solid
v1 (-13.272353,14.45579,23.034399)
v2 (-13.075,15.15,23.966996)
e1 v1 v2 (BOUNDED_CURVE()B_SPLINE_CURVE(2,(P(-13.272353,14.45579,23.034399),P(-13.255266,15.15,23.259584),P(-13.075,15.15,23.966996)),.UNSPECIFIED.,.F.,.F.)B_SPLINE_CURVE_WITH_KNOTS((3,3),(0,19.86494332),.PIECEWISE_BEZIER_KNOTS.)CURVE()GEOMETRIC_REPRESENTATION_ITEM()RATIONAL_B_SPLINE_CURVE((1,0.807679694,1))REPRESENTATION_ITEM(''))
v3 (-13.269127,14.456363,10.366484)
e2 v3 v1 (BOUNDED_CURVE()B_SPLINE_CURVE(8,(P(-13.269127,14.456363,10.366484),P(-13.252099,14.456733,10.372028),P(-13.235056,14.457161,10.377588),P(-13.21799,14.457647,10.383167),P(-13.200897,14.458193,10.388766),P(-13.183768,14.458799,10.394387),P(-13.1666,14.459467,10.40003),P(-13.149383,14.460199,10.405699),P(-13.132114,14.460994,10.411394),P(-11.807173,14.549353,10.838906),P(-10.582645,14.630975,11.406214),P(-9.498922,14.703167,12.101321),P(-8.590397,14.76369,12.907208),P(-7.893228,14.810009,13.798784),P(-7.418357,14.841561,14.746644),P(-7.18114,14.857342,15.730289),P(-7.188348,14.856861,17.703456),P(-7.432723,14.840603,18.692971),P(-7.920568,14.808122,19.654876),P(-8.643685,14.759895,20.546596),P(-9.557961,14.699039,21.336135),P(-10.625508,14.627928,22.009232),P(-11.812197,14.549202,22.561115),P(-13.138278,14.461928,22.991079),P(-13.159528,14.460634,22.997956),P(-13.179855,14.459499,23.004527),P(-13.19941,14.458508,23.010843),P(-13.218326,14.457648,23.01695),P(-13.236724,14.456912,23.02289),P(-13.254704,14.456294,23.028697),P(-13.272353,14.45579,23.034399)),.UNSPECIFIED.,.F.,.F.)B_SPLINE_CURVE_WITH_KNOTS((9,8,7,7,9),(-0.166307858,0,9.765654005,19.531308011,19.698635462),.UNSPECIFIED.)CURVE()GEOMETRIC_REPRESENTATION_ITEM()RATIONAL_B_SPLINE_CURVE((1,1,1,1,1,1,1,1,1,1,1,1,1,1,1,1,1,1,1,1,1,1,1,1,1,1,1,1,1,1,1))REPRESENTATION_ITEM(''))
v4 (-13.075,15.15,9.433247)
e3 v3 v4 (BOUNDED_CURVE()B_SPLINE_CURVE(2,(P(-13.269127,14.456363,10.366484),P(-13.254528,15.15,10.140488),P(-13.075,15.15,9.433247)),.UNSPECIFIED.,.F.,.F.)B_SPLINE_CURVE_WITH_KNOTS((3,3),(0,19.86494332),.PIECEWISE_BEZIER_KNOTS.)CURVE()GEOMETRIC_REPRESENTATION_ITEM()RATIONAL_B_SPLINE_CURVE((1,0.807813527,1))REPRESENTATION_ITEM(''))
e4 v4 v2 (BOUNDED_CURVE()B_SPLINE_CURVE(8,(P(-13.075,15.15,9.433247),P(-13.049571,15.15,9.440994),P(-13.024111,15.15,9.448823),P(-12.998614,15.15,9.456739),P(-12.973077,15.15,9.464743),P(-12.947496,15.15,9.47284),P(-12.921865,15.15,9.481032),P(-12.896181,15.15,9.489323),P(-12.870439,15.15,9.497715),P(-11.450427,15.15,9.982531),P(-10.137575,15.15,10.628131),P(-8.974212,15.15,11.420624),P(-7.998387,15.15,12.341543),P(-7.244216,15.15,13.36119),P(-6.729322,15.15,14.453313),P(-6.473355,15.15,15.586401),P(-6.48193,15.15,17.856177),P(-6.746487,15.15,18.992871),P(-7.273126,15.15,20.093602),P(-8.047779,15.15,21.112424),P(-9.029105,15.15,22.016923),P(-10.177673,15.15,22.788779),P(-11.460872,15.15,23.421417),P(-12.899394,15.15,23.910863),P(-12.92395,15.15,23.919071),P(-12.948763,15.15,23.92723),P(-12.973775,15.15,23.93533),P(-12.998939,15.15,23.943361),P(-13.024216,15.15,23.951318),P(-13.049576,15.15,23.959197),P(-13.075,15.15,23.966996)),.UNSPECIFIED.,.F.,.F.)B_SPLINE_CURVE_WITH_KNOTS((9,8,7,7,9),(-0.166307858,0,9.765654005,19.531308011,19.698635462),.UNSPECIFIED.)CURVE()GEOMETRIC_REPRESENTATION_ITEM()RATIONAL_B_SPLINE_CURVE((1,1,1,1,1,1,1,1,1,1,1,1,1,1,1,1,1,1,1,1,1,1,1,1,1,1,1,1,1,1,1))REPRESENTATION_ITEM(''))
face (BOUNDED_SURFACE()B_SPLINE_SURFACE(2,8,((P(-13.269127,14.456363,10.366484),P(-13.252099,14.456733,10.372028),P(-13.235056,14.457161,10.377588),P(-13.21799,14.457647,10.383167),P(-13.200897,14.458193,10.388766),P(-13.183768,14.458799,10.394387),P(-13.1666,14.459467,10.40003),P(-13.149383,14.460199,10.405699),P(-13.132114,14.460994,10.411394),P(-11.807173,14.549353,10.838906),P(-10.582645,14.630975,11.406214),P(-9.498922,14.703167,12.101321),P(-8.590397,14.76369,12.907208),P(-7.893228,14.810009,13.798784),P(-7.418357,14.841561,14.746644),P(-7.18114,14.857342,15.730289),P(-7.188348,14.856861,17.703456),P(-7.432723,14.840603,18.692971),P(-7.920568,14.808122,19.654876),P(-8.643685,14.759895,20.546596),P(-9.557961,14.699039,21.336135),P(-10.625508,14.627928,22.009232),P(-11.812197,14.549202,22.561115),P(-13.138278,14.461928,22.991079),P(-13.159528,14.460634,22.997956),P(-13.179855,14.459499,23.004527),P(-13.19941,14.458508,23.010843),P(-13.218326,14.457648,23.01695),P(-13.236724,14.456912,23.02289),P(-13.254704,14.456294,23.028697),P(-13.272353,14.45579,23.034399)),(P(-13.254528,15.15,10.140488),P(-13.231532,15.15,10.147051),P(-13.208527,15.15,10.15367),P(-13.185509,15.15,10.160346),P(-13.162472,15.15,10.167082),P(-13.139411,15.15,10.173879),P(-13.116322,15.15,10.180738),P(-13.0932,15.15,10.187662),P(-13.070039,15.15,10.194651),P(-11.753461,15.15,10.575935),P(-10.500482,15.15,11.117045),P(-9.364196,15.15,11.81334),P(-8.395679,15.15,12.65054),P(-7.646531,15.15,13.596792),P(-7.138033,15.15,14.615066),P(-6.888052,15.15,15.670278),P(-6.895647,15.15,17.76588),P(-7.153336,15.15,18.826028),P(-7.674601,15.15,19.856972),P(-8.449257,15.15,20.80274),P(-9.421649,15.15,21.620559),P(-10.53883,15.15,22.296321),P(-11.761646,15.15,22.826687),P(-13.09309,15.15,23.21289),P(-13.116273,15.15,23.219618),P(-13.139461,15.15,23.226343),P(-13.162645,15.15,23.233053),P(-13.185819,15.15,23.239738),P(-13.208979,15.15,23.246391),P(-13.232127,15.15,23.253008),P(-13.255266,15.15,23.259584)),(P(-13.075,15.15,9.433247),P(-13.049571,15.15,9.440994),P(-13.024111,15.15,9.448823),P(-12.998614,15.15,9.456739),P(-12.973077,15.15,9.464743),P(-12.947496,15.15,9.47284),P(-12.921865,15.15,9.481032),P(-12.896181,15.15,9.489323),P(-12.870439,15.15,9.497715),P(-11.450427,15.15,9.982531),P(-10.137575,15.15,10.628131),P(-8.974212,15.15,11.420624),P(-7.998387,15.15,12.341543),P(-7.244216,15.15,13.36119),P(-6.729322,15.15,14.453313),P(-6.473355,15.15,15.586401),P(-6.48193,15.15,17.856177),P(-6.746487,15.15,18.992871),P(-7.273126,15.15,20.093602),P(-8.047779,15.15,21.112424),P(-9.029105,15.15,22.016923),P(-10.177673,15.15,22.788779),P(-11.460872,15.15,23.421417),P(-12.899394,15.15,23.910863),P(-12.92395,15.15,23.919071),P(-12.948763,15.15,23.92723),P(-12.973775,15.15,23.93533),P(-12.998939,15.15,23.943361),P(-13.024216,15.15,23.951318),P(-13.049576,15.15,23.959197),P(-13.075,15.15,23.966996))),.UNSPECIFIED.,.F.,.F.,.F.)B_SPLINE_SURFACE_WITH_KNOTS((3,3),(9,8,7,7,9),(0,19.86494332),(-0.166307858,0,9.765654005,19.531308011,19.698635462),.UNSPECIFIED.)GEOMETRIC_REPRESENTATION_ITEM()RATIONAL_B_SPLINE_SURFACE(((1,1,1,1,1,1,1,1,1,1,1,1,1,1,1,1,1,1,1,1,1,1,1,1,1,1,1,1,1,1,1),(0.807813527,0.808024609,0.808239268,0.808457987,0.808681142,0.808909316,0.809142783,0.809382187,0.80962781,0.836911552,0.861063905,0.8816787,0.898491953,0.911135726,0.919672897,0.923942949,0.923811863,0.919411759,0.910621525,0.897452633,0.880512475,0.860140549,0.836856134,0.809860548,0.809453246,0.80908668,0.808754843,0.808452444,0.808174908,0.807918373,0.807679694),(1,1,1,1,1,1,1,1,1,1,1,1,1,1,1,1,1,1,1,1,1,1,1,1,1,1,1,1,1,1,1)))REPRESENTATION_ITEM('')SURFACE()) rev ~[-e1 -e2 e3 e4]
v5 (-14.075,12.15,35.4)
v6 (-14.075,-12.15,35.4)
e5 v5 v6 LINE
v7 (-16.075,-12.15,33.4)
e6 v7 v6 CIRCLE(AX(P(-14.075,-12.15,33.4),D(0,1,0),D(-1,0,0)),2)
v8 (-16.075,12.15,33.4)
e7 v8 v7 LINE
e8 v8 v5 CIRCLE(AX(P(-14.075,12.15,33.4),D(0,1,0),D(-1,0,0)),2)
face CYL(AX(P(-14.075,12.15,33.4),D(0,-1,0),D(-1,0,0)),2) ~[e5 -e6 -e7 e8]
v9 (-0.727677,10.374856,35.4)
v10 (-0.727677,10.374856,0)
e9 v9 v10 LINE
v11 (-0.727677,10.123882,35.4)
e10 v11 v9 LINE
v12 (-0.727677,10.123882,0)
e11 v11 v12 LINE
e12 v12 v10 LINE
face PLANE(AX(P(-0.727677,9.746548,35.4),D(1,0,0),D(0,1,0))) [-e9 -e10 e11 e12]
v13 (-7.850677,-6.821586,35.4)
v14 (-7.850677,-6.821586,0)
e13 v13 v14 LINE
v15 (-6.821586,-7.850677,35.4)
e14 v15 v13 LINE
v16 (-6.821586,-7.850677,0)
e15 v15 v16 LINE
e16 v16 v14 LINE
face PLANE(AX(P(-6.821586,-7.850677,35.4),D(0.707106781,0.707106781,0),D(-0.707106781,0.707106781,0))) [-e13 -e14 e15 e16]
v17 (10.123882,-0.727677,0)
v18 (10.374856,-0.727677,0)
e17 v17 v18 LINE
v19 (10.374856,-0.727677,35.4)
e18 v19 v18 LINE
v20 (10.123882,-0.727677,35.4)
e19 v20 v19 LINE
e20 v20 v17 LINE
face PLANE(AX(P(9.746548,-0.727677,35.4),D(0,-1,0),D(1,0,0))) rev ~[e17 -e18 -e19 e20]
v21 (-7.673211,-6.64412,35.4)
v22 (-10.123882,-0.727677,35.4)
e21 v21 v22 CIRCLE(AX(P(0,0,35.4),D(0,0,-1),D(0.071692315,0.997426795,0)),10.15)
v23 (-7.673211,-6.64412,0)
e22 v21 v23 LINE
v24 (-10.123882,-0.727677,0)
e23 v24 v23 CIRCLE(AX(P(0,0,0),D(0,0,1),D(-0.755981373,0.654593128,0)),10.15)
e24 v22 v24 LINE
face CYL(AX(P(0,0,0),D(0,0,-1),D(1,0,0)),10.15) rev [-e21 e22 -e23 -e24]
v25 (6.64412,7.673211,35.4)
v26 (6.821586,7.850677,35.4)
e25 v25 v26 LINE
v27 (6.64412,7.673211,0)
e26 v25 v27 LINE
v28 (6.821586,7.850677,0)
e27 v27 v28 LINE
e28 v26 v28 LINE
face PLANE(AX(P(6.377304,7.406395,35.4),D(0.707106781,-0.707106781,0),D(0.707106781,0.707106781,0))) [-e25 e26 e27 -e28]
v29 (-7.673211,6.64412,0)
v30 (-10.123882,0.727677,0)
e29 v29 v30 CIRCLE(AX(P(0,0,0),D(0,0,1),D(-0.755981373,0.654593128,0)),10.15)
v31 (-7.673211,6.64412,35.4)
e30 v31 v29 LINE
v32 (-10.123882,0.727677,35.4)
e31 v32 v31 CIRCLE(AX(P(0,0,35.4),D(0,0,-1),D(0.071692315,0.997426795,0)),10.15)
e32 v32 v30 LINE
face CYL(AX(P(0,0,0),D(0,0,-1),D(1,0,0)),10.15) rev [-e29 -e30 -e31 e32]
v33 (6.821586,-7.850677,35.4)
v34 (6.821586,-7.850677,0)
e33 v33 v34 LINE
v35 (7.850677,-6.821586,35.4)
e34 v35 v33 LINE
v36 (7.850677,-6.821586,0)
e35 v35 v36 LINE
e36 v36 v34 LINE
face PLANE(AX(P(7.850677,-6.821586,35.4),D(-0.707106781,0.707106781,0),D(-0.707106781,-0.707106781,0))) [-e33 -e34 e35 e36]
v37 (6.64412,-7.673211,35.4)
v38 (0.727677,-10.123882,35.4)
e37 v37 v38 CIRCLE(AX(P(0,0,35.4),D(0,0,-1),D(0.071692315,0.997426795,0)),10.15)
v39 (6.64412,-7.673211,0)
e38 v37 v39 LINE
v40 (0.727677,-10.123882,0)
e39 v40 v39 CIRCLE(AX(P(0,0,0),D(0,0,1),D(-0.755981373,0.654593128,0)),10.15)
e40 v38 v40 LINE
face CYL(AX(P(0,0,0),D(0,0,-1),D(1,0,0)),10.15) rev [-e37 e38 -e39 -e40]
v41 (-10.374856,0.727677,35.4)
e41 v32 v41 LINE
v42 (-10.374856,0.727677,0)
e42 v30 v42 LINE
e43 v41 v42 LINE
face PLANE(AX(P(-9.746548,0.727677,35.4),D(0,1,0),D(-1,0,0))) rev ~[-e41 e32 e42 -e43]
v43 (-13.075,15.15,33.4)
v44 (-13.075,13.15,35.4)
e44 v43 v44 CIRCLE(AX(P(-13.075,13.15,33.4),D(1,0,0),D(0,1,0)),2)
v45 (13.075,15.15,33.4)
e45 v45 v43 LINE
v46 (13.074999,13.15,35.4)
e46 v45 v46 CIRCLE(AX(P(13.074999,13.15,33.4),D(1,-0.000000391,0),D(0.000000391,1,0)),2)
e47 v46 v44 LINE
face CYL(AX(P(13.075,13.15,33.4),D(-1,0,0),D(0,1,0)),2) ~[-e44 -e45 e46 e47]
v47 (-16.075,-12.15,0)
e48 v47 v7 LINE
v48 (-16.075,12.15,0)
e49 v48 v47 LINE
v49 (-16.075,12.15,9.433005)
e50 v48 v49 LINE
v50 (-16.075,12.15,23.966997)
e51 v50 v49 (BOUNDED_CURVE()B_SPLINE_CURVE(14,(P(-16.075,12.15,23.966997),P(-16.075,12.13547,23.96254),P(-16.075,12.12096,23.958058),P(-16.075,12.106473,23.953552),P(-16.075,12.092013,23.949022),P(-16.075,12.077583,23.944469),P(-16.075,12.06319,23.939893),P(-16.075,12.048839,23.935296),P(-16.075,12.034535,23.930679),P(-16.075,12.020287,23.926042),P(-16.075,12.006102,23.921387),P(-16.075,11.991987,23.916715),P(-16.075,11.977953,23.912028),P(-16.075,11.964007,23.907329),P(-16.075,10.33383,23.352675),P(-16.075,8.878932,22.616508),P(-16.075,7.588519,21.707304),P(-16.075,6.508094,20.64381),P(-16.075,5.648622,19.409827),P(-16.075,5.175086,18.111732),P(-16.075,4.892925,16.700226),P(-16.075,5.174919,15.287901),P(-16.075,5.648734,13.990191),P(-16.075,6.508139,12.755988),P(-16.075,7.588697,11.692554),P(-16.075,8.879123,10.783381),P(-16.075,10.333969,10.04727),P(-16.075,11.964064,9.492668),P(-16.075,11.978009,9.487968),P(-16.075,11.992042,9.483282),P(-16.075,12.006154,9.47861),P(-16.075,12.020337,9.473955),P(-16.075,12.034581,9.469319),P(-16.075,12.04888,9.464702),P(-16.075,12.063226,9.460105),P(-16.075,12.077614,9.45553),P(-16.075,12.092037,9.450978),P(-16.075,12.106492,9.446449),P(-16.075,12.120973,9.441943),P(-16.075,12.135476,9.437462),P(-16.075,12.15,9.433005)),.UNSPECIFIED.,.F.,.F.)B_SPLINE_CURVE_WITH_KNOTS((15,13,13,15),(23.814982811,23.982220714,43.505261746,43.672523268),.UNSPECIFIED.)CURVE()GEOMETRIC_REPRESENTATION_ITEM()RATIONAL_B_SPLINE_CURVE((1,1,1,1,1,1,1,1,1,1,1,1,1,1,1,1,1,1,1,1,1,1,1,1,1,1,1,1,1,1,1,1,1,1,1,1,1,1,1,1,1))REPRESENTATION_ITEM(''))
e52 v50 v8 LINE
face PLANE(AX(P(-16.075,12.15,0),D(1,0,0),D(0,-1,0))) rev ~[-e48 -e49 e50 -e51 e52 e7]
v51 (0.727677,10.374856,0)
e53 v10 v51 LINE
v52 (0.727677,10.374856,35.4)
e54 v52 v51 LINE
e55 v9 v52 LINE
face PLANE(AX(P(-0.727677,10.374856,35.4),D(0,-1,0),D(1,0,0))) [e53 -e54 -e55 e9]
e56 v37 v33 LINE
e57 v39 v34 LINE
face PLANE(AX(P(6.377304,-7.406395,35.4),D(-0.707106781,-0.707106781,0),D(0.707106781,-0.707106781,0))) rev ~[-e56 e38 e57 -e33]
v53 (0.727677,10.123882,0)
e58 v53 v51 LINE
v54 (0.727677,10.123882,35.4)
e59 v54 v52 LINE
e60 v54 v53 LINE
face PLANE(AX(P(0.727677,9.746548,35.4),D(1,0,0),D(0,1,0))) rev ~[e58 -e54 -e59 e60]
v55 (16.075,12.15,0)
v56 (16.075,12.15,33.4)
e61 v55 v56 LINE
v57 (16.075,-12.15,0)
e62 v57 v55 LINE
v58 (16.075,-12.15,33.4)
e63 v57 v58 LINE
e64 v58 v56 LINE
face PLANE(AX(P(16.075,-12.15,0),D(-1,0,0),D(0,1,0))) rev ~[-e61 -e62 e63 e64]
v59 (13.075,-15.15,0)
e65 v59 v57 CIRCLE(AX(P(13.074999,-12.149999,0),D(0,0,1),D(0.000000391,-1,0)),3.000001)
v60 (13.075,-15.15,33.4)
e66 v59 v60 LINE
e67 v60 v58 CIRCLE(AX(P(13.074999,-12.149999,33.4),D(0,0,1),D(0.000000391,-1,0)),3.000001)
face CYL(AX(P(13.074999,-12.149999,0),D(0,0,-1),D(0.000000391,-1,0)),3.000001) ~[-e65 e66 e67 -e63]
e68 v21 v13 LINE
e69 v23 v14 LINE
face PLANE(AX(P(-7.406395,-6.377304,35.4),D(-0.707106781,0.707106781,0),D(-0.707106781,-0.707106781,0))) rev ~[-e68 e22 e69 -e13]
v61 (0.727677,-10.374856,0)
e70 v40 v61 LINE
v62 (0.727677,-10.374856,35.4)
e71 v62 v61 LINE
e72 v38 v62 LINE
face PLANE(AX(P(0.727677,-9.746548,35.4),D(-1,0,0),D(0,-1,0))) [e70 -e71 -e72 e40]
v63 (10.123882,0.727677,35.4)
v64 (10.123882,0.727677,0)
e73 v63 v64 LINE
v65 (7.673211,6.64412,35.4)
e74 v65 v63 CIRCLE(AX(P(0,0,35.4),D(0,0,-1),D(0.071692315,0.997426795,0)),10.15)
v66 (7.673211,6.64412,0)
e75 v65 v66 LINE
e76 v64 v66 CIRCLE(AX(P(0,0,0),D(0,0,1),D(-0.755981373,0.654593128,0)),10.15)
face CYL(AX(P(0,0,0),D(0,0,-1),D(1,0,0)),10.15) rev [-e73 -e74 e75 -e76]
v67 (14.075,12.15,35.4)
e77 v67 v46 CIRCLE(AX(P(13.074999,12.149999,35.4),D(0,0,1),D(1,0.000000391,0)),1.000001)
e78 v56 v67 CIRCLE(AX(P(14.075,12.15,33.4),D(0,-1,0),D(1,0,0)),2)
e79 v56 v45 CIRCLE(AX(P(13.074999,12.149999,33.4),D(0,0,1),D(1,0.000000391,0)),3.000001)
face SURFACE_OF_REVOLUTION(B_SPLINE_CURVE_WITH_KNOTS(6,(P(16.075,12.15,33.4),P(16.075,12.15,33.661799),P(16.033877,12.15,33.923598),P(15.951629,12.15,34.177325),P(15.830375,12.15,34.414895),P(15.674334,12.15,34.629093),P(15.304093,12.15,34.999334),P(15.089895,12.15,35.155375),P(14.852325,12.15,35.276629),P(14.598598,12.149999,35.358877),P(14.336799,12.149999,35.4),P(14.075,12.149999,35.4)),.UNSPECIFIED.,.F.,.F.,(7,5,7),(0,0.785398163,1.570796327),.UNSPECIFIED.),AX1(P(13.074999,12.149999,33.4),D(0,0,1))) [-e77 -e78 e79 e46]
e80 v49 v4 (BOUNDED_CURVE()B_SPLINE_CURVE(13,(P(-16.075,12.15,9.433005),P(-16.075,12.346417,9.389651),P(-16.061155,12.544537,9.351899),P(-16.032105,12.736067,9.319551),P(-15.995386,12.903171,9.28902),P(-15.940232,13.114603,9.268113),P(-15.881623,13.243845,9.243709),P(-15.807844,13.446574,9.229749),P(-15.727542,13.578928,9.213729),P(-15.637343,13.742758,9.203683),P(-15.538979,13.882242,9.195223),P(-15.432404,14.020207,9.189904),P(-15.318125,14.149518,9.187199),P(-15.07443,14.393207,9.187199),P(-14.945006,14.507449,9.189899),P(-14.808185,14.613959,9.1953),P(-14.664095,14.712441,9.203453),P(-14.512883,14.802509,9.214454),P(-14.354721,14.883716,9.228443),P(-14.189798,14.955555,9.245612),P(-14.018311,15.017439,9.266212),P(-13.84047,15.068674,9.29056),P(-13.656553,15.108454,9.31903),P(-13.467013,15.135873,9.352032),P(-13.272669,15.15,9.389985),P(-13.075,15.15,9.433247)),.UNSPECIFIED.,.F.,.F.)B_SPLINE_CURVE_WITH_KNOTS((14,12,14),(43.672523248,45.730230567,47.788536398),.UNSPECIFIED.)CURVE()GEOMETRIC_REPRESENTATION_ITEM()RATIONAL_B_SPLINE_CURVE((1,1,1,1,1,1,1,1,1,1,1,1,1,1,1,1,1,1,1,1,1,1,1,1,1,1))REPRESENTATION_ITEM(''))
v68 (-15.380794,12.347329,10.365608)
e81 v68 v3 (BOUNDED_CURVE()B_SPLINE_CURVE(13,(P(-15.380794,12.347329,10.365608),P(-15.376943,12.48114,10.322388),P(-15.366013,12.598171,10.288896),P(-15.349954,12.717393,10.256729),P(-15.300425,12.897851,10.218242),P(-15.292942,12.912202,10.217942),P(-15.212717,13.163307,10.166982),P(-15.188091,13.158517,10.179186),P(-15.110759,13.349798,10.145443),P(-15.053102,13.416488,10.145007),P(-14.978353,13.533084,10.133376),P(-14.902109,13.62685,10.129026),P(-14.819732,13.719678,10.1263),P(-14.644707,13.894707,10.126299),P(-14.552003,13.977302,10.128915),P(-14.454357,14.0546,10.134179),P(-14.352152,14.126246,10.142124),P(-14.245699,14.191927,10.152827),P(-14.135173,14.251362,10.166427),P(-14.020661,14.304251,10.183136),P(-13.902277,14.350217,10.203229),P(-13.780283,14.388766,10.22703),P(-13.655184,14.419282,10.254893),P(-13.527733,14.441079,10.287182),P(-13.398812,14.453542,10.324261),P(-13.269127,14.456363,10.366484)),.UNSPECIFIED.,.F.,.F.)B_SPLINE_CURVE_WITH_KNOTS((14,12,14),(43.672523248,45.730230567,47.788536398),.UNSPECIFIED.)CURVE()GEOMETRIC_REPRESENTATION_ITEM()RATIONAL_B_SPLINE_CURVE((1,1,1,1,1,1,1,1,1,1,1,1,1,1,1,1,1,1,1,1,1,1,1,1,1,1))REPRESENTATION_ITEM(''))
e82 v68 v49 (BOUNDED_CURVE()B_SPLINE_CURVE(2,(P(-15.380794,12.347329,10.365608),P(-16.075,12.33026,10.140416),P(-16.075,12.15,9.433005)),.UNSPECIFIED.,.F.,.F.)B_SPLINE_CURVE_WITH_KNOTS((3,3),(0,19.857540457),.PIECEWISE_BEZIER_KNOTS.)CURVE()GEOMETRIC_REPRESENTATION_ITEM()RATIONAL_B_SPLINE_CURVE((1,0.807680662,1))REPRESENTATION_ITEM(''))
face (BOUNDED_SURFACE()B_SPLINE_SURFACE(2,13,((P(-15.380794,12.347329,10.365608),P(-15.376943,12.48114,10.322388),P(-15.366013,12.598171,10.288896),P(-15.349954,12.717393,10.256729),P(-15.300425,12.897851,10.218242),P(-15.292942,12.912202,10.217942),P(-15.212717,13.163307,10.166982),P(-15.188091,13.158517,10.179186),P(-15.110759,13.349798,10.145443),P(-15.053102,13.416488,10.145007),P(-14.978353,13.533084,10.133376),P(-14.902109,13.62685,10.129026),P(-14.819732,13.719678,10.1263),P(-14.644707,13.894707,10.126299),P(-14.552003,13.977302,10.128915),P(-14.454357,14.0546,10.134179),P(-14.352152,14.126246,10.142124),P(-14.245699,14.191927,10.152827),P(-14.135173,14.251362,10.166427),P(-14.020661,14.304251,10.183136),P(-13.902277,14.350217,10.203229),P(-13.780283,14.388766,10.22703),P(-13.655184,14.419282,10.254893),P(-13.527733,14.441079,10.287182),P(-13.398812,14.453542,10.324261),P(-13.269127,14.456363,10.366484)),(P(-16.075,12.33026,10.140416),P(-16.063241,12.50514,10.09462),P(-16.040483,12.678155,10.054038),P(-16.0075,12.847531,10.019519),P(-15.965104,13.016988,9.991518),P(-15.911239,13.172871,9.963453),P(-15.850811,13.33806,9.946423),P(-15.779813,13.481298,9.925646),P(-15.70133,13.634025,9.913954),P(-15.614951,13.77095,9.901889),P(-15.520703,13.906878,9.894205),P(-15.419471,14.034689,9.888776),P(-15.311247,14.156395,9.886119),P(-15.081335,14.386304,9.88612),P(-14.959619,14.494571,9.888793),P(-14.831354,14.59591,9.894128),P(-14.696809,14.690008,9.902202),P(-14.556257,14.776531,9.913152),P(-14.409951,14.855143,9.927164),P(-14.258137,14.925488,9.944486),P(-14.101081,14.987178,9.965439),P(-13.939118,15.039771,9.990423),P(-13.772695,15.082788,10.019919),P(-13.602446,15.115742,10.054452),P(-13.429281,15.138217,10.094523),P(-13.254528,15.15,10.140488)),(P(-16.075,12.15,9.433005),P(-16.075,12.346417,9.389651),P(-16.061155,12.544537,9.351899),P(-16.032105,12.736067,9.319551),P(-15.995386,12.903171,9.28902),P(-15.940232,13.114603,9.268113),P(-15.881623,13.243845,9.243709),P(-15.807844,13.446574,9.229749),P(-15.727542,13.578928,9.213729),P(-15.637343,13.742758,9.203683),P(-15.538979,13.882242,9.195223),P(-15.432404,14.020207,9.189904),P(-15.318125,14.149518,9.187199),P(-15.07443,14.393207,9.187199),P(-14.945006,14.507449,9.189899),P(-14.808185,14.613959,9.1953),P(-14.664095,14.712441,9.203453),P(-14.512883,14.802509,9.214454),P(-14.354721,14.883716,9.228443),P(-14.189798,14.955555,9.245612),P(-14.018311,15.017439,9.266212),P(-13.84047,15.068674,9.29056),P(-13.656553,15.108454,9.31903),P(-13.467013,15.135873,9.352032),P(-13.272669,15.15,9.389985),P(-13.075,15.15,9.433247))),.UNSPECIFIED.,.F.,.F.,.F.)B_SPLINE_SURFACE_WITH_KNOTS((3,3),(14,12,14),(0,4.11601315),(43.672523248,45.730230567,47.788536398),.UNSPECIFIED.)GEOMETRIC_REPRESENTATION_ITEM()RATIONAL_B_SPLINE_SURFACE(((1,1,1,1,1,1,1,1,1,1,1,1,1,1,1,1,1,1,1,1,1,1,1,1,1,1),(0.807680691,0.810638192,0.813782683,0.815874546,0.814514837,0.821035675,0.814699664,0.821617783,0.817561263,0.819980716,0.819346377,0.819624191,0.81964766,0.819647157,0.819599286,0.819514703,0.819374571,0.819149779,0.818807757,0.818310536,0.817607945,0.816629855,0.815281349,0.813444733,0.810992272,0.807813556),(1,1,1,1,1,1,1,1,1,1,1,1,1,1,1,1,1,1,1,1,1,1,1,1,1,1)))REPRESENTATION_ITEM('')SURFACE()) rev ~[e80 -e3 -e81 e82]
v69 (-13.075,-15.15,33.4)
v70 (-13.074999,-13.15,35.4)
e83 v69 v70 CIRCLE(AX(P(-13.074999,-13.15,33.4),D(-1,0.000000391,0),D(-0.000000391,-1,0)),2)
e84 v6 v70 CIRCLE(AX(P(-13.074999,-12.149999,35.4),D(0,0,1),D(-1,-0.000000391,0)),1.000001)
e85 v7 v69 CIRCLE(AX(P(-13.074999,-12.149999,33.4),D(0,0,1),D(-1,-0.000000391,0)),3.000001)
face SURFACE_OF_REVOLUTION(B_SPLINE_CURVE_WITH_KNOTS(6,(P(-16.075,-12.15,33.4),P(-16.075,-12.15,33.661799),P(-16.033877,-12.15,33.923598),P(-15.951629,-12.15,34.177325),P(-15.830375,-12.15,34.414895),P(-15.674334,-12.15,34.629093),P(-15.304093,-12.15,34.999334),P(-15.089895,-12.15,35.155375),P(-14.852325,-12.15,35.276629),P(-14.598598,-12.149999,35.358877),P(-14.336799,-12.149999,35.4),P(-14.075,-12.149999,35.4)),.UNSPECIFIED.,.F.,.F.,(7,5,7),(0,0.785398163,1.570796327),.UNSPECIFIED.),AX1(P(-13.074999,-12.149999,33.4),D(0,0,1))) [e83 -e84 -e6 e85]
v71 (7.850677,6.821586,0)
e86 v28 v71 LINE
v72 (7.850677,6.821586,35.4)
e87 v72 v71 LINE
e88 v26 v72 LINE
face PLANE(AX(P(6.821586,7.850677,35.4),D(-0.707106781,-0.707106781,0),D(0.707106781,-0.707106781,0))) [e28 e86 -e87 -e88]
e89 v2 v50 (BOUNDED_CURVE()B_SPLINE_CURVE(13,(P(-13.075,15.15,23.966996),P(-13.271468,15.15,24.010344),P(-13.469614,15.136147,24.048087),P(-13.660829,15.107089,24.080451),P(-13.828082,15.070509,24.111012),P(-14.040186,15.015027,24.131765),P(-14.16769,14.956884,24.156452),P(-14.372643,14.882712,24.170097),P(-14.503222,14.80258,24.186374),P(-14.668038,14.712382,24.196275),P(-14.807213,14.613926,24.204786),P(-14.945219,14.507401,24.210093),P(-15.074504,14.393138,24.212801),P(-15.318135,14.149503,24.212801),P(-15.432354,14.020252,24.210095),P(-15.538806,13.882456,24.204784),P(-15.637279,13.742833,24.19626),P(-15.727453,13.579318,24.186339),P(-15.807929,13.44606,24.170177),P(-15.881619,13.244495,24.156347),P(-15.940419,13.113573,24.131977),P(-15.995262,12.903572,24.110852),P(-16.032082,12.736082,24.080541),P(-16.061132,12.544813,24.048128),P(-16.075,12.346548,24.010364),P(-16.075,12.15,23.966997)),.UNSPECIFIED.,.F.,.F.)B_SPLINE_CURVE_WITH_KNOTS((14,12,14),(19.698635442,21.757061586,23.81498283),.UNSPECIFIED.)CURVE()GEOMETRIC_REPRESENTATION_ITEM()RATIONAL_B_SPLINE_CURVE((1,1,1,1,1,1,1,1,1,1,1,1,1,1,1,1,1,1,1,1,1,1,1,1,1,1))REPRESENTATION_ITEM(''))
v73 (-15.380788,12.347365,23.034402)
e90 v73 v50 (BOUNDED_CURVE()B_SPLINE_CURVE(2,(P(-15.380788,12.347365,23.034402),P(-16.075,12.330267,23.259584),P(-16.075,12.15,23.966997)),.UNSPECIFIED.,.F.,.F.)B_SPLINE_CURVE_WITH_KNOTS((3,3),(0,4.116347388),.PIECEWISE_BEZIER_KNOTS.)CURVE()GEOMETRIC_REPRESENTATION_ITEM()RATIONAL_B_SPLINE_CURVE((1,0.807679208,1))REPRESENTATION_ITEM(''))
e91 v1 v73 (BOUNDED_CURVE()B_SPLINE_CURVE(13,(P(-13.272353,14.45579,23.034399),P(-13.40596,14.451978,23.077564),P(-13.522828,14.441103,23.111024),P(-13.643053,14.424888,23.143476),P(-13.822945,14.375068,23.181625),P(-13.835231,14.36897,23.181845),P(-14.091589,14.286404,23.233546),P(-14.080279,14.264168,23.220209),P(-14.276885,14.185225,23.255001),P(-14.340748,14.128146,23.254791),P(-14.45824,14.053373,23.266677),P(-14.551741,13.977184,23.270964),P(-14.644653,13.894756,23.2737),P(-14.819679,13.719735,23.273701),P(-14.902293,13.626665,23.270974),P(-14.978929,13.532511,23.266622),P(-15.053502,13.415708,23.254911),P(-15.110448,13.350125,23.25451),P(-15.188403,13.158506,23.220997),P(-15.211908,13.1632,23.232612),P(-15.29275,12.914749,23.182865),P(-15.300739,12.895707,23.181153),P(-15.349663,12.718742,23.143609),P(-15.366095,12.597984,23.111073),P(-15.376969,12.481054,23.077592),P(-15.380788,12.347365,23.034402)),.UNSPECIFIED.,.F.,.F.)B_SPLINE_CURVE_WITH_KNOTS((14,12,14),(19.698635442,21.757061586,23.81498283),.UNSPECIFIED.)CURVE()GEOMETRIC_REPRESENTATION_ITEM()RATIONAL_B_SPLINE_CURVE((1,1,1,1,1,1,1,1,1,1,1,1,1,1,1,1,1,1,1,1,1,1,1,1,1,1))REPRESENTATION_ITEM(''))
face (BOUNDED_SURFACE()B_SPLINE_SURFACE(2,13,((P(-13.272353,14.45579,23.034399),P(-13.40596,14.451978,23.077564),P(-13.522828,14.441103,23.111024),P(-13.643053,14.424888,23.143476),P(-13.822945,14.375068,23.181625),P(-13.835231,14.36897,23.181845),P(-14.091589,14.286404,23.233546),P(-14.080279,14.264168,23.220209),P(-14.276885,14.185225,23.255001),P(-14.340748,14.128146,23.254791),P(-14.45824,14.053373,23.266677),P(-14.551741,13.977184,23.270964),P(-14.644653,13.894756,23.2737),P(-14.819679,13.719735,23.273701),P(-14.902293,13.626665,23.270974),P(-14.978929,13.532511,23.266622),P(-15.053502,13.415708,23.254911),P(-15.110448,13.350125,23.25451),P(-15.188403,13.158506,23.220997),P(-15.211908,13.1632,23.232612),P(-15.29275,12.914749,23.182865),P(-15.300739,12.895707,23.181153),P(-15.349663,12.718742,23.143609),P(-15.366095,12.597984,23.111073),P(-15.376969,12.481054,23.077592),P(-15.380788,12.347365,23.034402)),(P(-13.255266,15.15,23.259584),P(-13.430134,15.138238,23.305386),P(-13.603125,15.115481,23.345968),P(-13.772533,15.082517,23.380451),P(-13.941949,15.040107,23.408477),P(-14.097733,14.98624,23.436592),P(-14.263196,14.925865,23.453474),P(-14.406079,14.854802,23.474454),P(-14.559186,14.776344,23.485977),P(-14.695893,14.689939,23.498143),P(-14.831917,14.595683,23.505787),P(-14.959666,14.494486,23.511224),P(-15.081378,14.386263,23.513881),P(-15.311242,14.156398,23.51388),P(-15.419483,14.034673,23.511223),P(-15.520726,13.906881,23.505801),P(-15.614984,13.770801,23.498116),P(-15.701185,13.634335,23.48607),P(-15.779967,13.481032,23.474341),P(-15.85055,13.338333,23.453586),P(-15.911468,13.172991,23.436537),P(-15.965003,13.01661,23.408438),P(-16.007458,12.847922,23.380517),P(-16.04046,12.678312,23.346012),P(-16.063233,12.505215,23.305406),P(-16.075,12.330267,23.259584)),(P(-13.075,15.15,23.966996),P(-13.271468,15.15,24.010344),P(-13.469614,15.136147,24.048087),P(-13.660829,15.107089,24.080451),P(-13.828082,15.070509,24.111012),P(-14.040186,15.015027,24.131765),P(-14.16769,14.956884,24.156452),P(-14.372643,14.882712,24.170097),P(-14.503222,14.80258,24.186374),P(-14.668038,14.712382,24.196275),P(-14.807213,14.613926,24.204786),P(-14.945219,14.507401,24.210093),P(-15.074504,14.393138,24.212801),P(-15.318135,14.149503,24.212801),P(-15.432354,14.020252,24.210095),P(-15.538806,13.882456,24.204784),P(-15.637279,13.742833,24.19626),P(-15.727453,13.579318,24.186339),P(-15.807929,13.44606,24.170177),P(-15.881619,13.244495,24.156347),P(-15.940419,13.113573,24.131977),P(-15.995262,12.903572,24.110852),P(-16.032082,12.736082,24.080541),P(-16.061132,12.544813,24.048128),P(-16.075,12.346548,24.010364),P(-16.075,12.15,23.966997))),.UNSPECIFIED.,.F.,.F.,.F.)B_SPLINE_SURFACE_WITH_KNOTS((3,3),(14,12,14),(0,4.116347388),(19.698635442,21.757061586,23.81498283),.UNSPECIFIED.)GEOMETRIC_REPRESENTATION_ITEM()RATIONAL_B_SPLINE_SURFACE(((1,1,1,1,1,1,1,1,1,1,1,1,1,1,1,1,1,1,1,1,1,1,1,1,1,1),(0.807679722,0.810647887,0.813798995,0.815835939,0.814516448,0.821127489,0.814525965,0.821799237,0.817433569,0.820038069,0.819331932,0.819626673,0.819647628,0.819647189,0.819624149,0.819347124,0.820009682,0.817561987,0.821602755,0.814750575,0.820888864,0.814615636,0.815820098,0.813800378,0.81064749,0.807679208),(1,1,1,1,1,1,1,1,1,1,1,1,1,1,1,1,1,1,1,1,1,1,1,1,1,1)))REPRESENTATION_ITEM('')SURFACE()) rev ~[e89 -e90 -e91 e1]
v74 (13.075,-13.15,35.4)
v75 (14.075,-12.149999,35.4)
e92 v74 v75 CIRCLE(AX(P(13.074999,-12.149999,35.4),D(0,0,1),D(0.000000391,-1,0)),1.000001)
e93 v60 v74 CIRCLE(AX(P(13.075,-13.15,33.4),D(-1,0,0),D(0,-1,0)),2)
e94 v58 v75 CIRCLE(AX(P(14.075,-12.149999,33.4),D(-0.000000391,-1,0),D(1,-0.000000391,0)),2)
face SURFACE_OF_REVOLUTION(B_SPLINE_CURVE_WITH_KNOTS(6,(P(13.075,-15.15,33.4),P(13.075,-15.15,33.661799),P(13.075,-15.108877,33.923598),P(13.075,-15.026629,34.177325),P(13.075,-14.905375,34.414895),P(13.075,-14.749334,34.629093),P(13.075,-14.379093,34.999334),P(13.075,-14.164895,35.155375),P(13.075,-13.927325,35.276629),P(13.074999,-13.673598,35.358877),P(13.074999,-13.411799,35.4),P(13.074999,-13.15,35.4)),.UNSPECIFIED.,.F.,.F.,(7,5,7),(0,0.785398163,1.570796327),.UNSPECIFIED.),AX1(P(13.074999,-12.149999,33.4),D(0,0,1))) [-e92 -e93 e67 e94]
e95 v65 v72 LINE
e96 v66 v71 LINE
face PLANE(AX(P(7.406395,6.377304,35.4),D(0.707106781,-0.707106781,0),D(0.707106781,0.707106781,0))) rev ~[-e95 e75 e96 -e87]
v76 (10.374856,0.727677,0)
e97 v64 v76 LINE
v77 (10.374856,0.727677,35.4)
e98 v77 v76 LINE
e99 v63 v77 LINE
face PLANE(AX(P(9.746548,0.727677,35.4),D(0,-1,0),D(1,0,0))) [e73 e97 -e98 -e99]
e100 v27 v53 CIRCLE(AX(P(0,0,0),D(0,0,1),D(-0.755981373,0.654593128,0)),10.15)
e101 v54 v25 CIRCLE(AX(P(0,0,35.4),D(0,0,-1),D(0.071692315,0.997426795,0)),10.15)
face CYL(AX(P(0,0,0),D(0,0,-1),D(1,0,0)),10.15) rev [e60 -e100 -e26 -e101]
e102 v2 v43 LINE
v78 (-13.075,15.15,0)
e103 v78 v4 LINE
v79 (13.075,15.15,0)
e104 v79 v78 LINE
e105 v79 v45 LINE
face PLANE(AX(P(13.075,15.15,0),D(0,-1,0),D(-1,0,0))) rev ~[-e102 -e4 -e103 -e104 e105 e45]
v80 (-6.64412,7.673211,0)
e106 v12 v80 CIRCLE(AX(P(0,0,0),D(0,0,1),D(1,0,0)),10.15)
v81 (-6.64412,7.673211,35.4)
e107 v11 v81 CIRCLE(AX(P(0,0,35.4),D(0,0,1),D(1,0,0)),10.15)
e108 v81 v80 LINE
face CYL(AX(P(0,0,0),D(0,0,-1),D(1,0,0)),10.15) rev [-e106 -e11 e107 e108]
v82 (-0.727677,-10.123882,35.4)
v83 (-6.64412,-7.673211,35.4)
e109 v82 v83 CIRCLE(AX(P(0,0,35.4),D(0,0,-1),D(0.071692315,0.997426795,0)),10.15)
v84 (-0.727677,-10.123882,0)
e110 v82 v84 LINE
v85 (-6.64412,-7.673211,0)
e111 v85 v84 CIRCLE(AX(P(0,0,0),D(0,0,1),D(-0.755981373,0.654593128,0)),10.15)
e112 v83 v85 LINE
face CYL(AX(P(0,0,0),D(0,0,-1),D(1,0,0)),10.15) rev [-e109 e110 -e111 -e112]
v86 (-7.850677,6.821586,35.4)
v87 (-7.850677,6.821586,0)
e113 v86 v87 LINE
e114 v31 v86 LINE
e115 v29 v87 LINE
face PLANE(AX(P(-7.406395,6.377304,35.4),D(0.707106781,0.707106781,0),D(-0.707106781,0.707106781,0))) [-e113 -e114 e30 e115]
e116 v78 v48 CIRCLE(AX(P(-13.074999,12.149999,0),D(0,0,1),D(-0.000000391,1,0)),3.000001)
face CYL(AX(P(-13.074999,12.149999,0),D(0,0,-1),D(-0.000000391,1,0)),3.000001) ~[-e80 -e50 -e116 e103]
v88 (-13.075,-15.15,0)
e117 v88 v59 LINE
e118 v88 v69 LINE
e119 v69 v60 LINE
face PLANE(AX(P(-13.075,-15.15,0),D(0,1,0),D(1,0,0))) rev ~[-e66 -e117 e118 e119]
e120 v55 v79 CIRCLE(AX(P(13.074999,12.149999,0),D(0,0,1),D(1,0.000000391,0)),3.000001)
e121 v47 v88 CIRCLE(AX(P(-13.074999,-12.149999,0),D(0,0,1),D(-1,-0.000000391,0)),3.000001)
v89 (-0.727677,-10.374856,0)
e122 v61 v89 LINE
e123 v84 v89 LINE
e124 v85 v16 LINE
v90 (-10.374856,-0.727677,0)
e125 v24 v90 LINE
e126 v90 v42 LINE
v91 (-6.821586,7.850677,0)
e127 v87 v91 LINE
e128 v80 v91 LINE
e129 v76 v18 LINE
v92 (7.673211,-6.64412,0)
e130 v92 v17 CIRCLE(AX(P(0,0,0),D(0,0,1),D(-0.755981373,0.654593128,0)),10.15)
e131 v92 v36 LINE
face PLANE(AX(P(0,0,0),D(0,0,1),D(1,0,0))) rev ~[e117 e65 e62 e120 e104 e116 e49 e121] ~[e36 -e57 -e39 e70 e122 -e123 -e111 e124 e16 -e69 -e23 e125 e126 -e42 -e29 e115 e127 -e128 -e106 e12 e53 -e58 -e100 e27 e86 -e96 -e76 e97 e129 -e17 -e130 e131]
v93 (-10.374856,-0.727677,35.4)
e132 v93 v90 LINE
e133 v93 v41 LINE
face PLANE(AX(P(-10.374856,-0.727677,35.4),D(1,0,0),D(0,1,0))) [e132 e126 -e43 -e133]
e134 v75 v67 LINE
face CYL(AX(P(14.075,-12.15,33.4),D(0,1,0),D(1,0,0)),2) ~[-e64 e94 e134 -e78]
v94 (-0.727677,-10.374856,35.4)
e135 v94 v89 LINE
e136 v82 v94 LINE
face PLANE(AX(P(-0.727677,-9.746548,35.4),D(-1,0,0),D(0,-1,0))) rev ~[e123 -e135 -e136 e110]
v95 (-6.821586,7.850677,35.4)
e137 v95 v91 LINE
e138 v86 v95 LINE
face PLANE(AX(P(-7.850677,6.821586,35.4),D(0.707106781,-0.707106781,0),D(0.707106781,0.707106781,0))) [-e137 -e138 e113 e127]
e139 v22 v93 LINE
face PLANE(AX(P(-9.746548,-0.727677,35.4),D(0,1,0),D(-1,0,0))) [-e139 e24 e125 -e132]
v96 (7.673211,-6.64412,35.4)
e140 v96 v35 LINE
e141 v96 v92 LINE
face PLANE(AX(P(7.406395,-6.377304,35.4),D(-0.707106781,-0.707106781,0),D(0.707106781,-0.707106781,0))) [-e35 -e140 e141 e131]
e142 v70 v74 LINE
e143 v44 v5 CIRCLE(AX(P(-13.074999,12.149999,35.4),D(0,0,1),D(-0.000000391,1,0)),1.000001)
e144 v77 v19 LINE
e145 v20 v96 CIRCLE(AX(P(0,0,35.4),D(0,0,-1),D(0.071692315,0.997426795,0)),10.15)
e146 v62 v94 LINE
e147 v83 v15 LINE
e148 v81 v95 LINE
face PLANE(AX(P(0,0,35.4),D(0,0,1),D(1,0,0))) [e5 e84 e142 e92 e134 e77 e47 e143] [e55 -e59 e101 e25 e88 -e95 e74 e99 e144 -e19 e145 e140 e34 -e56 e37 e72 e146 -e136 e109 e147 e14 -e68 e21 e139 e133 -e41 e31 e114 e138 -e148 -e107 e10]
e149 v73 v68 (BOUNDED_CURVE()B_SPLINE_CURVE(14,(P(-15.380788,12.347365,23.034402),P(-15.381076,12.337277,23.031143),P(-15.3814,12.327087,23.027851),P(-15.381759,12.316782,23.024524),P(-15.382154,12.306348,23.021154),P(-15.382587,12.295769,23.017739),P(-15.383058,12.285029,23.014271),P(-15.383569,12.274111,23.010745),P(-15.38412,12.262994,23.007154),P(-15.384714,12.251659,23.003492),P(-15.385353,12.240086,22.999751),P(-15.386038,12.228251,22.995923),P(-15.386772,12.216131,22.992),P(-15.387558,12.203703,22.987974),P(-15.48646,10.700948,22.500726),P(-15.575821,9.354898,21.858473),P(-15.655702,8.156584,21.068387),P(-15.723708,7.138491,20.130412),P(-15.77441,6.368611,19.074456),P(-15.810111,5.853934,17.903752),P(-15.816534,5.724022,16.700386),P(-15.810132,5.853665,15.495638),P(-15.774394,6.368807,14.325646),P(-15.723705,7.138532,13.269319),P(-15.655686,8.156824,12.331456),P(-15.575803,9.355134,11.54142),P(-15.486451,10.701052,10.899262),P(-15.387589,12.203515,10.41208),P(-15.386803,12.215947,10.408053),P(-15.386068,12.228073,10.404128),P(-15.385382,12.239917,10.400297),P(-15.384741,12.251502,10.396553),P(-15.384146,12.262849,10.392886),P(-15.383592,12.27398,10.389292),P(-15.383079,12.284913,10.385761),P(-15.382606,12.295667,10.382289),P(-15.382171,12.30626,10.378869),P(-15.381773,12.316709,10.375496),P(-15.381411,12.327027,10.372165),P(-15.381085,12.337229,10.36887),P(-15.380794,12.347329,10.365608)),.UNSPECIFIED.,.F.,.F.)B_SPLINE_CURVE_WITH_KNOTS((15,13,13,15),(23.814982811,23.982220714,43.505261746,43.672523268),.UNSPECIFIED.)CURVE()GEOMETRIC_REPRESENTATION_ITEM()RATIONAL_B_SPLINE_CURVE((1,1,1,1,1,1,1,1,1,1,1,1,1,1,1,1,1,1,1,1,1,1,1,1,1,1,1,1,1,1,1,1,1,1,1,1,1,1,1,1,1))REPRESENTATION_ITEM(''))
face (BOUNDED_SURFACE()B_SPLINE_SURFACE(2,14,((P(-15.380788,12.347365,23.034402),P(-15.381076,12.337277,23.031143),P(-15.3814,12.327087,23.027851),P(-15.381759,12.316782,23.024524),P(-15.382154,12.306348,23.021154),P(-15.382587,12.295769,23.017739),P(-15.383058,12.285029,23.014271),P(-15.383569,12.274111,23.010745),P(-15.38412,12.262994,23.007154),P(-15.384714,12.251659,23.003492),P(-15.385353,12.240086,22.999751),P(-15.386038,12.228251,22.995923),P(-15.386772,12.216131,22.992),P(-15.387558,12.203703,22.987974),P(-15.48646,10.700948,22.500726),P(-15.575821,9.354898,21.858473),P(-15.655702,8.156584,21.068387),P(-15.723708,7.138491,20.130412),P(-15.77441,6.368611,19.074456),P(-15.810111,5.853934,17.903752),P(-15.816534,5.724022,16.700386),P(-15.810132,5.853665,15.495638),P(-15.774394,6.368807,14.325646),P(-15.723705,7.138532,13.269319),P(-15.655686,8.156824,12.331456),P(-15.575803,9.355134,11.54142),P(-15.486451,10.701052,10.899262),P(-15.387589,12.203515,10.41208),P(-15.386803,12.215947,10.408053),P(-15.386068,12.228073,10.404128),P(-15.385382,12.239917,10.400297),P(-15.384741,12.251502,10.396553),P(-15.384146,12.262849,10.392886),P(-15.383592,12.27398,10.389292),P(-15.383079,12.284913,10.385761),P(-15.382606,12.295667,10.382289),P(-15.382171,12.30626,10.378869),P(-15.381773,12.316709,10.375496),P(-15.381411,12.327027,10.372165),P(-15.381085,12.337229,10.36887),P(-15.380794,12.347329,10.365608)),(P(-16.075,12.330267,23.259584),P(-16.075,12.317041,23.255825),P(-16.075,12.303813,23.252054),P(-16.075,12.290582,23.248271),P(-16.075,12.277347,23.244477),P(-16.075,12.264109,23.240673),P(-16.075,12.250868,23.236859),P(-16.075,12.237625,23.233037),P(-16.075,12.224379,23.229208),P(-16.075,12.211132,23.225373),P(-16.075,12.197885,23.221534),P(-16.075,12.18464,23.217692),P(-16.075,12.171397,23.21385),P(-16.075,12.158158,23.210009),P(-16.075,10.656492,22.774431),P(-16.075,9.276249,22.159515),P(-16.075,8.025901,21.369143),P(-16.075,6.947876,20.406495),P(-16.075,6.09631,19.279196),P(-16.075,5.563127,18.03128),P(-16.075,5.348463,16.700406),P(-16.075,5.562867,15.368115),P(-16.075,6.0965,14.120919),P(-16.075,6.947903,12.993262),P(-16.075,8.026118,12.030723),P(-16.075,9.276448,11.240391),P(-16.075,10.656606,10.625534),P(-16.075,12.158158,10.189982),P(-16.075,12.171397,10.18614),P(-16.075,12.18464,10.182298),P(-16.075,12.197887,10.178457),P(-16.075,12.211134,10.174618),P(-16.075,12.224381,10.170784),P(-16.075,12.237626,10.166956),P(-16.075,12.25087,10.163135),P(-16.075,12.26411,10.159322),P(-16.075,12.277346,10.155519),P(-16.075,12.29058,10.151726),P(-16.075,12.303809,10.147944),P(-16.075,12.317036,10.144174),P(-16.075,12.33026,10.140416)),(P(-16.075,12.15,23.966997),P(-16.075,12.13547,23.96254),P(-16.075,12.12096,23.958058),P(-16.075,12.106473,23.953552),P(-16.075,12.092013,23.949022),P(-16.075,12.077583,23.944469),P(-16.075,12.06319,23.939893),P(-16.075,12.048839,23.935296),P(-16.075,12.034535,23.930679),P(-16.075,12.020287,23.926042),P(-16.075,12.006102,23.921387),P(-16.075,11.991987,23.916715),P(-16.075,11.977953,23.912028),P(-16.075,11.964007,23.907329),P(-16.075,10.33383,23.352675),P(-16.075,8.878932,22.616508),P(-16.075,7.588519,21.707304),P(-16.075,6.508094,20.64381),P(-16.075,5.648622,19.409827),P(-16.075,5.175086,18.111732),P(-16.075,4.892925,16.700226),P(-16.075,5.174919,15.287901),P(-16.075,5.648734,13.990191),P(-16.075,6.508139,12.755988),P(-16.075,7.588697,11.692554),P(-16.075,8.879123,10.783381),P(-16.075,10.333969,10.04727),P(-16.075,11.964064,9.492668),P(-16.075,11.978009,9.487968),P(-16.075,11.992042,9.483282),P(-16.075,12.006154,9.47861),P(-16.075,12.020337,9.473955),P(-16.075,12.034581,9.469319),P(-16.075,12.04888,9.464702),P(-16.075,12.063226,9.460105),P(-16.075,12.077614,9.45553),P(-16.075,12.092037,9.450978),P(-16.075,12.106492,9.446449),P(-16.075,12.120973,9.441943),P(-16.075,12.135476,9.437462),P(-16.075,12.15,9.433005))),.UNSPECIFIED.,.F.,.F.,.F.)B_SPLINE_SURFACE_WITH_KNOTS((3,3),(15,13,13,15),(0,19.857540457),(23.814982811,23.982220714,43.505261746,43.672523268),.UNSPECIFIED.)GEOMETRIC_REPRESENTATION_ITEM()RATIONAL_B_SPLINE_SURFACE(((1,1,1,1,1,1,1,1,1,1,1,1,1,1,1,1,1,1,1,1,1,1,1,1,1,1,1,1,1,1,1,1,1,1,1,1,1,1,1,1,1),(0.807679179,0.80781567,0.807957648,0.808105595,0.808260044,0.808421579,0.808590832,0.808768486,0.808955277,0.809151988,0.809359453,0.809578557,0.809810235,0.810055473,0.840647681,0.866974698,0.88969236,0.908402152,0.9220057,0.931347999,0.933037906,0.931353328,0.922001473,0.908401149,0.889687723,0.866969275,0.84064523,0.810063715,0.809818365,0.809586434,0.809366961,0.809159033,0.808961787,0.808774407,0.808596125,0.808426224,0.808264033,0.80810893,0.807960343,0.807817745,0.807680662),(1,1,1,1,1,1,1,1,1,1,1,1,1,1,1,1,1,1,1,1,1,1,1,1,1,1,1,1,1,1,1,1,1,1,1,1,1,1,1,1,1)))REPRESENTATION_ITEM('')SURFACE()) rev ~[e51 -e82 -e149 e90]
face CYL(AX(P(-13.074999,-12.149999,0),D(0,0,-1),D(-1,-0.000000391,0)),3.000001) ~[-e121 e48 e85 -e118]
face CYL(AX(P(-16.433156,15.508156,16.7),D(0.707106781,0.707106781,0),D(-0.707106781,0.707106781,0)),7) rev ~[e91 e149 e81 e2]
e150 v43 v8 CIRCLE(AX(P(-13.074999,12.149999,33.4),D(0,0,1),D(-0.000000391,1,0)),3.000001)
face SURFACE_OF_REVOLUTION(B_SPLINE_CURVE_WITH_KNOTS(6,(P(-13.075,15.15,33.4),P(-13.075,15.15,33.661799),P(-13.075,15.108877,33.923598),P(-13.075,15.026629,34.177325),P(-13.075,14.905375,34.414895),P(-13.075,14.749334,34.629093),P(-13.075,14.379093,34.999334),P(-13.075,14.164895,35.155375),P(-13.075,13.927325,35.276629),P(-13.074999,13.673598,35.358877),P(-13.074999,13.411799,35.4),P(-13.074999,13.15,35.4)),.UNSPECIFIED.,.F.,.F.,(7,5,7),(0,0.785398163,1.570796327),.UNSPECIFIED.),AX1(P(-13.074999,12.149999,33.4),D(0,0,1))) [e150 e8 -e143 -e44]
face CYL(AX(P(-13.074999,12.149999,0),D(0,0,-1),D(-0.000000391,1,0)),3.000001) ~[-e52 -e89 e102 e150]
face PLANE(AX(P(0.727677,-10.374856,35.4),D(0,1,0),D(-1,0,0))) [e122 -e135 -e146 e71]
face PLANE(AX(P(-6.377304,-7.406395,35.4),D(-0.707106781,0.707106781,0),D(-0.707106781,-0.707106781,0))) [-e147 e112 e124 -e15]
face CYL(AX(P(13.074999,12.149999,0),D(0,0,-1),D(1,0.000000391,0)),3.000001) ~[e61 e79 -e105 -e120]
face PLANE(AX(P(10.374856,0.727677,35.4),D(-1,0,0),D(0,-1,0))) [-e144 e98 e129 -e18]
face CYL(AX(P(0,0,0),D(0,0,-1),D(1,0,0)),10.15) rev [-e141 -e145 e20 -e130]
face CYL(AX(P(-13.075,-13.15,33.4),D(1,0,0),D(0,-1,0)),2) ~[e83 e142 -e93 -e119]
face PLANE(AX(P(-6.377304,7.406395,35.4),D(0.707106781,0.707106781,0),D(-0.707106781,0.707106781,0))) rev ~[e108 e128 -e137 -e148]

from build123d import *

# Parameters (mm, degrees)
SKETCH_R             = 10.15
PAD_DEPTH            = 35.4
SKETCH001_W          = 1.455354
SKETCH001_H          = 0.628309
POCKET_DEPTH         = 148.624187
POLARPATTERN_COUNT   = 8
FILLET_R             = 2
SKETCH002_R          = 7
POCKET001_DEPTH      = 21.426335
POCKET001_DEPTH_BACK = 22.734483
FILLET001_R          = 1


with BuildPart() as part:
    # Sketch → Pad (new body)
    with BuildSketch(Plane.XY):
        with BuildLine():
            Line((-16.075, 12.15), (-16.075, -12.15))
            ThreePointArc((-16.075, -12.15), (-15.19632, -14.27132), (-13.075, -15.15))
            Line((-13.075, -15.15), (13.075, -15.15))
            ThreePointArc((13.075, -15.15), (15.19632, -14.27132), (16.075, -12.15))
            Line((16.075, -12.15), (16.075, 12.15))
            ThreePointArc((16.075, 12.15), (15.19632, 14.27132), (13.075, 15.15))
            Line((13.075, 15.15), (-13.075, 15.15))
            ThreePointArc((-13.075, 15.15), (-15.19632, 14.27132), (-16.075, 12.15))
        make_face()
        Circle(SKETCH_R, mode=Mode.SUBTRACT)
    extrude(amount=PAD_DEPTH)

    # Sketch001 (on Face11 of Pad) → Pocket (cut, through all)
    with BuildSketch(Plane.XY.offset(35.4)):
        with Locations((0, 10.060702)):
            Rectangle(SKETCH001_W, SKETCH001_H)
    pocket = extrude(amount=-POCKET_DEPTH, mode=Mode.SUBTRACT)

    # PolarPattern: Pocket ×8 about axis
    polarpattern_axis = Axis((0, 0, 35.4), (0, 0, 1))
    for i in range(1, POLARPATTERN_COUNT):
        add(pocket.rotate(polarpattern_axis, i * 360 / POLARPATTERN_COUNT), mode=Mode.SUBTRACT)

    # Fillet
    fillet_edges = [part.edges().sort_by_distance(p)[0] for p in [
        (-16.075, 0, 35.4),
    ]]
    fillet(fillet_edges, radius=FILLET_R)

    # Sketch002 (on DatumPlane) → Pocket001 (cut, two sides)
    with BuildSketch(Plane(origin=(-14.984859, 14.059859, 16.7), x_dir=(-0.707107, 0.707107, 0), z_dir=(0.707107, 0.707107, 0))) as pocket001_sk:
        with Locations((2.048201, 0)):
            Circle(SKETCH002_R)
    extrude(amount=-POCKET001_DEPTH, mode=Mode.SUBTRACT)
    extrude(pocket001_sk.sketch, amount=POCKET001_DEPTH_BACK, mode=Mode.SUBTRACT)

    # Fillet001
    fillet001_edges = [part.edges().sort_by_distance(p)[0] for p in [
        (-6.891817, 15.15, 16.7),
    ]]
    fillet(fillet001_edges, radius=FILLET001_R)


solid = part.part
